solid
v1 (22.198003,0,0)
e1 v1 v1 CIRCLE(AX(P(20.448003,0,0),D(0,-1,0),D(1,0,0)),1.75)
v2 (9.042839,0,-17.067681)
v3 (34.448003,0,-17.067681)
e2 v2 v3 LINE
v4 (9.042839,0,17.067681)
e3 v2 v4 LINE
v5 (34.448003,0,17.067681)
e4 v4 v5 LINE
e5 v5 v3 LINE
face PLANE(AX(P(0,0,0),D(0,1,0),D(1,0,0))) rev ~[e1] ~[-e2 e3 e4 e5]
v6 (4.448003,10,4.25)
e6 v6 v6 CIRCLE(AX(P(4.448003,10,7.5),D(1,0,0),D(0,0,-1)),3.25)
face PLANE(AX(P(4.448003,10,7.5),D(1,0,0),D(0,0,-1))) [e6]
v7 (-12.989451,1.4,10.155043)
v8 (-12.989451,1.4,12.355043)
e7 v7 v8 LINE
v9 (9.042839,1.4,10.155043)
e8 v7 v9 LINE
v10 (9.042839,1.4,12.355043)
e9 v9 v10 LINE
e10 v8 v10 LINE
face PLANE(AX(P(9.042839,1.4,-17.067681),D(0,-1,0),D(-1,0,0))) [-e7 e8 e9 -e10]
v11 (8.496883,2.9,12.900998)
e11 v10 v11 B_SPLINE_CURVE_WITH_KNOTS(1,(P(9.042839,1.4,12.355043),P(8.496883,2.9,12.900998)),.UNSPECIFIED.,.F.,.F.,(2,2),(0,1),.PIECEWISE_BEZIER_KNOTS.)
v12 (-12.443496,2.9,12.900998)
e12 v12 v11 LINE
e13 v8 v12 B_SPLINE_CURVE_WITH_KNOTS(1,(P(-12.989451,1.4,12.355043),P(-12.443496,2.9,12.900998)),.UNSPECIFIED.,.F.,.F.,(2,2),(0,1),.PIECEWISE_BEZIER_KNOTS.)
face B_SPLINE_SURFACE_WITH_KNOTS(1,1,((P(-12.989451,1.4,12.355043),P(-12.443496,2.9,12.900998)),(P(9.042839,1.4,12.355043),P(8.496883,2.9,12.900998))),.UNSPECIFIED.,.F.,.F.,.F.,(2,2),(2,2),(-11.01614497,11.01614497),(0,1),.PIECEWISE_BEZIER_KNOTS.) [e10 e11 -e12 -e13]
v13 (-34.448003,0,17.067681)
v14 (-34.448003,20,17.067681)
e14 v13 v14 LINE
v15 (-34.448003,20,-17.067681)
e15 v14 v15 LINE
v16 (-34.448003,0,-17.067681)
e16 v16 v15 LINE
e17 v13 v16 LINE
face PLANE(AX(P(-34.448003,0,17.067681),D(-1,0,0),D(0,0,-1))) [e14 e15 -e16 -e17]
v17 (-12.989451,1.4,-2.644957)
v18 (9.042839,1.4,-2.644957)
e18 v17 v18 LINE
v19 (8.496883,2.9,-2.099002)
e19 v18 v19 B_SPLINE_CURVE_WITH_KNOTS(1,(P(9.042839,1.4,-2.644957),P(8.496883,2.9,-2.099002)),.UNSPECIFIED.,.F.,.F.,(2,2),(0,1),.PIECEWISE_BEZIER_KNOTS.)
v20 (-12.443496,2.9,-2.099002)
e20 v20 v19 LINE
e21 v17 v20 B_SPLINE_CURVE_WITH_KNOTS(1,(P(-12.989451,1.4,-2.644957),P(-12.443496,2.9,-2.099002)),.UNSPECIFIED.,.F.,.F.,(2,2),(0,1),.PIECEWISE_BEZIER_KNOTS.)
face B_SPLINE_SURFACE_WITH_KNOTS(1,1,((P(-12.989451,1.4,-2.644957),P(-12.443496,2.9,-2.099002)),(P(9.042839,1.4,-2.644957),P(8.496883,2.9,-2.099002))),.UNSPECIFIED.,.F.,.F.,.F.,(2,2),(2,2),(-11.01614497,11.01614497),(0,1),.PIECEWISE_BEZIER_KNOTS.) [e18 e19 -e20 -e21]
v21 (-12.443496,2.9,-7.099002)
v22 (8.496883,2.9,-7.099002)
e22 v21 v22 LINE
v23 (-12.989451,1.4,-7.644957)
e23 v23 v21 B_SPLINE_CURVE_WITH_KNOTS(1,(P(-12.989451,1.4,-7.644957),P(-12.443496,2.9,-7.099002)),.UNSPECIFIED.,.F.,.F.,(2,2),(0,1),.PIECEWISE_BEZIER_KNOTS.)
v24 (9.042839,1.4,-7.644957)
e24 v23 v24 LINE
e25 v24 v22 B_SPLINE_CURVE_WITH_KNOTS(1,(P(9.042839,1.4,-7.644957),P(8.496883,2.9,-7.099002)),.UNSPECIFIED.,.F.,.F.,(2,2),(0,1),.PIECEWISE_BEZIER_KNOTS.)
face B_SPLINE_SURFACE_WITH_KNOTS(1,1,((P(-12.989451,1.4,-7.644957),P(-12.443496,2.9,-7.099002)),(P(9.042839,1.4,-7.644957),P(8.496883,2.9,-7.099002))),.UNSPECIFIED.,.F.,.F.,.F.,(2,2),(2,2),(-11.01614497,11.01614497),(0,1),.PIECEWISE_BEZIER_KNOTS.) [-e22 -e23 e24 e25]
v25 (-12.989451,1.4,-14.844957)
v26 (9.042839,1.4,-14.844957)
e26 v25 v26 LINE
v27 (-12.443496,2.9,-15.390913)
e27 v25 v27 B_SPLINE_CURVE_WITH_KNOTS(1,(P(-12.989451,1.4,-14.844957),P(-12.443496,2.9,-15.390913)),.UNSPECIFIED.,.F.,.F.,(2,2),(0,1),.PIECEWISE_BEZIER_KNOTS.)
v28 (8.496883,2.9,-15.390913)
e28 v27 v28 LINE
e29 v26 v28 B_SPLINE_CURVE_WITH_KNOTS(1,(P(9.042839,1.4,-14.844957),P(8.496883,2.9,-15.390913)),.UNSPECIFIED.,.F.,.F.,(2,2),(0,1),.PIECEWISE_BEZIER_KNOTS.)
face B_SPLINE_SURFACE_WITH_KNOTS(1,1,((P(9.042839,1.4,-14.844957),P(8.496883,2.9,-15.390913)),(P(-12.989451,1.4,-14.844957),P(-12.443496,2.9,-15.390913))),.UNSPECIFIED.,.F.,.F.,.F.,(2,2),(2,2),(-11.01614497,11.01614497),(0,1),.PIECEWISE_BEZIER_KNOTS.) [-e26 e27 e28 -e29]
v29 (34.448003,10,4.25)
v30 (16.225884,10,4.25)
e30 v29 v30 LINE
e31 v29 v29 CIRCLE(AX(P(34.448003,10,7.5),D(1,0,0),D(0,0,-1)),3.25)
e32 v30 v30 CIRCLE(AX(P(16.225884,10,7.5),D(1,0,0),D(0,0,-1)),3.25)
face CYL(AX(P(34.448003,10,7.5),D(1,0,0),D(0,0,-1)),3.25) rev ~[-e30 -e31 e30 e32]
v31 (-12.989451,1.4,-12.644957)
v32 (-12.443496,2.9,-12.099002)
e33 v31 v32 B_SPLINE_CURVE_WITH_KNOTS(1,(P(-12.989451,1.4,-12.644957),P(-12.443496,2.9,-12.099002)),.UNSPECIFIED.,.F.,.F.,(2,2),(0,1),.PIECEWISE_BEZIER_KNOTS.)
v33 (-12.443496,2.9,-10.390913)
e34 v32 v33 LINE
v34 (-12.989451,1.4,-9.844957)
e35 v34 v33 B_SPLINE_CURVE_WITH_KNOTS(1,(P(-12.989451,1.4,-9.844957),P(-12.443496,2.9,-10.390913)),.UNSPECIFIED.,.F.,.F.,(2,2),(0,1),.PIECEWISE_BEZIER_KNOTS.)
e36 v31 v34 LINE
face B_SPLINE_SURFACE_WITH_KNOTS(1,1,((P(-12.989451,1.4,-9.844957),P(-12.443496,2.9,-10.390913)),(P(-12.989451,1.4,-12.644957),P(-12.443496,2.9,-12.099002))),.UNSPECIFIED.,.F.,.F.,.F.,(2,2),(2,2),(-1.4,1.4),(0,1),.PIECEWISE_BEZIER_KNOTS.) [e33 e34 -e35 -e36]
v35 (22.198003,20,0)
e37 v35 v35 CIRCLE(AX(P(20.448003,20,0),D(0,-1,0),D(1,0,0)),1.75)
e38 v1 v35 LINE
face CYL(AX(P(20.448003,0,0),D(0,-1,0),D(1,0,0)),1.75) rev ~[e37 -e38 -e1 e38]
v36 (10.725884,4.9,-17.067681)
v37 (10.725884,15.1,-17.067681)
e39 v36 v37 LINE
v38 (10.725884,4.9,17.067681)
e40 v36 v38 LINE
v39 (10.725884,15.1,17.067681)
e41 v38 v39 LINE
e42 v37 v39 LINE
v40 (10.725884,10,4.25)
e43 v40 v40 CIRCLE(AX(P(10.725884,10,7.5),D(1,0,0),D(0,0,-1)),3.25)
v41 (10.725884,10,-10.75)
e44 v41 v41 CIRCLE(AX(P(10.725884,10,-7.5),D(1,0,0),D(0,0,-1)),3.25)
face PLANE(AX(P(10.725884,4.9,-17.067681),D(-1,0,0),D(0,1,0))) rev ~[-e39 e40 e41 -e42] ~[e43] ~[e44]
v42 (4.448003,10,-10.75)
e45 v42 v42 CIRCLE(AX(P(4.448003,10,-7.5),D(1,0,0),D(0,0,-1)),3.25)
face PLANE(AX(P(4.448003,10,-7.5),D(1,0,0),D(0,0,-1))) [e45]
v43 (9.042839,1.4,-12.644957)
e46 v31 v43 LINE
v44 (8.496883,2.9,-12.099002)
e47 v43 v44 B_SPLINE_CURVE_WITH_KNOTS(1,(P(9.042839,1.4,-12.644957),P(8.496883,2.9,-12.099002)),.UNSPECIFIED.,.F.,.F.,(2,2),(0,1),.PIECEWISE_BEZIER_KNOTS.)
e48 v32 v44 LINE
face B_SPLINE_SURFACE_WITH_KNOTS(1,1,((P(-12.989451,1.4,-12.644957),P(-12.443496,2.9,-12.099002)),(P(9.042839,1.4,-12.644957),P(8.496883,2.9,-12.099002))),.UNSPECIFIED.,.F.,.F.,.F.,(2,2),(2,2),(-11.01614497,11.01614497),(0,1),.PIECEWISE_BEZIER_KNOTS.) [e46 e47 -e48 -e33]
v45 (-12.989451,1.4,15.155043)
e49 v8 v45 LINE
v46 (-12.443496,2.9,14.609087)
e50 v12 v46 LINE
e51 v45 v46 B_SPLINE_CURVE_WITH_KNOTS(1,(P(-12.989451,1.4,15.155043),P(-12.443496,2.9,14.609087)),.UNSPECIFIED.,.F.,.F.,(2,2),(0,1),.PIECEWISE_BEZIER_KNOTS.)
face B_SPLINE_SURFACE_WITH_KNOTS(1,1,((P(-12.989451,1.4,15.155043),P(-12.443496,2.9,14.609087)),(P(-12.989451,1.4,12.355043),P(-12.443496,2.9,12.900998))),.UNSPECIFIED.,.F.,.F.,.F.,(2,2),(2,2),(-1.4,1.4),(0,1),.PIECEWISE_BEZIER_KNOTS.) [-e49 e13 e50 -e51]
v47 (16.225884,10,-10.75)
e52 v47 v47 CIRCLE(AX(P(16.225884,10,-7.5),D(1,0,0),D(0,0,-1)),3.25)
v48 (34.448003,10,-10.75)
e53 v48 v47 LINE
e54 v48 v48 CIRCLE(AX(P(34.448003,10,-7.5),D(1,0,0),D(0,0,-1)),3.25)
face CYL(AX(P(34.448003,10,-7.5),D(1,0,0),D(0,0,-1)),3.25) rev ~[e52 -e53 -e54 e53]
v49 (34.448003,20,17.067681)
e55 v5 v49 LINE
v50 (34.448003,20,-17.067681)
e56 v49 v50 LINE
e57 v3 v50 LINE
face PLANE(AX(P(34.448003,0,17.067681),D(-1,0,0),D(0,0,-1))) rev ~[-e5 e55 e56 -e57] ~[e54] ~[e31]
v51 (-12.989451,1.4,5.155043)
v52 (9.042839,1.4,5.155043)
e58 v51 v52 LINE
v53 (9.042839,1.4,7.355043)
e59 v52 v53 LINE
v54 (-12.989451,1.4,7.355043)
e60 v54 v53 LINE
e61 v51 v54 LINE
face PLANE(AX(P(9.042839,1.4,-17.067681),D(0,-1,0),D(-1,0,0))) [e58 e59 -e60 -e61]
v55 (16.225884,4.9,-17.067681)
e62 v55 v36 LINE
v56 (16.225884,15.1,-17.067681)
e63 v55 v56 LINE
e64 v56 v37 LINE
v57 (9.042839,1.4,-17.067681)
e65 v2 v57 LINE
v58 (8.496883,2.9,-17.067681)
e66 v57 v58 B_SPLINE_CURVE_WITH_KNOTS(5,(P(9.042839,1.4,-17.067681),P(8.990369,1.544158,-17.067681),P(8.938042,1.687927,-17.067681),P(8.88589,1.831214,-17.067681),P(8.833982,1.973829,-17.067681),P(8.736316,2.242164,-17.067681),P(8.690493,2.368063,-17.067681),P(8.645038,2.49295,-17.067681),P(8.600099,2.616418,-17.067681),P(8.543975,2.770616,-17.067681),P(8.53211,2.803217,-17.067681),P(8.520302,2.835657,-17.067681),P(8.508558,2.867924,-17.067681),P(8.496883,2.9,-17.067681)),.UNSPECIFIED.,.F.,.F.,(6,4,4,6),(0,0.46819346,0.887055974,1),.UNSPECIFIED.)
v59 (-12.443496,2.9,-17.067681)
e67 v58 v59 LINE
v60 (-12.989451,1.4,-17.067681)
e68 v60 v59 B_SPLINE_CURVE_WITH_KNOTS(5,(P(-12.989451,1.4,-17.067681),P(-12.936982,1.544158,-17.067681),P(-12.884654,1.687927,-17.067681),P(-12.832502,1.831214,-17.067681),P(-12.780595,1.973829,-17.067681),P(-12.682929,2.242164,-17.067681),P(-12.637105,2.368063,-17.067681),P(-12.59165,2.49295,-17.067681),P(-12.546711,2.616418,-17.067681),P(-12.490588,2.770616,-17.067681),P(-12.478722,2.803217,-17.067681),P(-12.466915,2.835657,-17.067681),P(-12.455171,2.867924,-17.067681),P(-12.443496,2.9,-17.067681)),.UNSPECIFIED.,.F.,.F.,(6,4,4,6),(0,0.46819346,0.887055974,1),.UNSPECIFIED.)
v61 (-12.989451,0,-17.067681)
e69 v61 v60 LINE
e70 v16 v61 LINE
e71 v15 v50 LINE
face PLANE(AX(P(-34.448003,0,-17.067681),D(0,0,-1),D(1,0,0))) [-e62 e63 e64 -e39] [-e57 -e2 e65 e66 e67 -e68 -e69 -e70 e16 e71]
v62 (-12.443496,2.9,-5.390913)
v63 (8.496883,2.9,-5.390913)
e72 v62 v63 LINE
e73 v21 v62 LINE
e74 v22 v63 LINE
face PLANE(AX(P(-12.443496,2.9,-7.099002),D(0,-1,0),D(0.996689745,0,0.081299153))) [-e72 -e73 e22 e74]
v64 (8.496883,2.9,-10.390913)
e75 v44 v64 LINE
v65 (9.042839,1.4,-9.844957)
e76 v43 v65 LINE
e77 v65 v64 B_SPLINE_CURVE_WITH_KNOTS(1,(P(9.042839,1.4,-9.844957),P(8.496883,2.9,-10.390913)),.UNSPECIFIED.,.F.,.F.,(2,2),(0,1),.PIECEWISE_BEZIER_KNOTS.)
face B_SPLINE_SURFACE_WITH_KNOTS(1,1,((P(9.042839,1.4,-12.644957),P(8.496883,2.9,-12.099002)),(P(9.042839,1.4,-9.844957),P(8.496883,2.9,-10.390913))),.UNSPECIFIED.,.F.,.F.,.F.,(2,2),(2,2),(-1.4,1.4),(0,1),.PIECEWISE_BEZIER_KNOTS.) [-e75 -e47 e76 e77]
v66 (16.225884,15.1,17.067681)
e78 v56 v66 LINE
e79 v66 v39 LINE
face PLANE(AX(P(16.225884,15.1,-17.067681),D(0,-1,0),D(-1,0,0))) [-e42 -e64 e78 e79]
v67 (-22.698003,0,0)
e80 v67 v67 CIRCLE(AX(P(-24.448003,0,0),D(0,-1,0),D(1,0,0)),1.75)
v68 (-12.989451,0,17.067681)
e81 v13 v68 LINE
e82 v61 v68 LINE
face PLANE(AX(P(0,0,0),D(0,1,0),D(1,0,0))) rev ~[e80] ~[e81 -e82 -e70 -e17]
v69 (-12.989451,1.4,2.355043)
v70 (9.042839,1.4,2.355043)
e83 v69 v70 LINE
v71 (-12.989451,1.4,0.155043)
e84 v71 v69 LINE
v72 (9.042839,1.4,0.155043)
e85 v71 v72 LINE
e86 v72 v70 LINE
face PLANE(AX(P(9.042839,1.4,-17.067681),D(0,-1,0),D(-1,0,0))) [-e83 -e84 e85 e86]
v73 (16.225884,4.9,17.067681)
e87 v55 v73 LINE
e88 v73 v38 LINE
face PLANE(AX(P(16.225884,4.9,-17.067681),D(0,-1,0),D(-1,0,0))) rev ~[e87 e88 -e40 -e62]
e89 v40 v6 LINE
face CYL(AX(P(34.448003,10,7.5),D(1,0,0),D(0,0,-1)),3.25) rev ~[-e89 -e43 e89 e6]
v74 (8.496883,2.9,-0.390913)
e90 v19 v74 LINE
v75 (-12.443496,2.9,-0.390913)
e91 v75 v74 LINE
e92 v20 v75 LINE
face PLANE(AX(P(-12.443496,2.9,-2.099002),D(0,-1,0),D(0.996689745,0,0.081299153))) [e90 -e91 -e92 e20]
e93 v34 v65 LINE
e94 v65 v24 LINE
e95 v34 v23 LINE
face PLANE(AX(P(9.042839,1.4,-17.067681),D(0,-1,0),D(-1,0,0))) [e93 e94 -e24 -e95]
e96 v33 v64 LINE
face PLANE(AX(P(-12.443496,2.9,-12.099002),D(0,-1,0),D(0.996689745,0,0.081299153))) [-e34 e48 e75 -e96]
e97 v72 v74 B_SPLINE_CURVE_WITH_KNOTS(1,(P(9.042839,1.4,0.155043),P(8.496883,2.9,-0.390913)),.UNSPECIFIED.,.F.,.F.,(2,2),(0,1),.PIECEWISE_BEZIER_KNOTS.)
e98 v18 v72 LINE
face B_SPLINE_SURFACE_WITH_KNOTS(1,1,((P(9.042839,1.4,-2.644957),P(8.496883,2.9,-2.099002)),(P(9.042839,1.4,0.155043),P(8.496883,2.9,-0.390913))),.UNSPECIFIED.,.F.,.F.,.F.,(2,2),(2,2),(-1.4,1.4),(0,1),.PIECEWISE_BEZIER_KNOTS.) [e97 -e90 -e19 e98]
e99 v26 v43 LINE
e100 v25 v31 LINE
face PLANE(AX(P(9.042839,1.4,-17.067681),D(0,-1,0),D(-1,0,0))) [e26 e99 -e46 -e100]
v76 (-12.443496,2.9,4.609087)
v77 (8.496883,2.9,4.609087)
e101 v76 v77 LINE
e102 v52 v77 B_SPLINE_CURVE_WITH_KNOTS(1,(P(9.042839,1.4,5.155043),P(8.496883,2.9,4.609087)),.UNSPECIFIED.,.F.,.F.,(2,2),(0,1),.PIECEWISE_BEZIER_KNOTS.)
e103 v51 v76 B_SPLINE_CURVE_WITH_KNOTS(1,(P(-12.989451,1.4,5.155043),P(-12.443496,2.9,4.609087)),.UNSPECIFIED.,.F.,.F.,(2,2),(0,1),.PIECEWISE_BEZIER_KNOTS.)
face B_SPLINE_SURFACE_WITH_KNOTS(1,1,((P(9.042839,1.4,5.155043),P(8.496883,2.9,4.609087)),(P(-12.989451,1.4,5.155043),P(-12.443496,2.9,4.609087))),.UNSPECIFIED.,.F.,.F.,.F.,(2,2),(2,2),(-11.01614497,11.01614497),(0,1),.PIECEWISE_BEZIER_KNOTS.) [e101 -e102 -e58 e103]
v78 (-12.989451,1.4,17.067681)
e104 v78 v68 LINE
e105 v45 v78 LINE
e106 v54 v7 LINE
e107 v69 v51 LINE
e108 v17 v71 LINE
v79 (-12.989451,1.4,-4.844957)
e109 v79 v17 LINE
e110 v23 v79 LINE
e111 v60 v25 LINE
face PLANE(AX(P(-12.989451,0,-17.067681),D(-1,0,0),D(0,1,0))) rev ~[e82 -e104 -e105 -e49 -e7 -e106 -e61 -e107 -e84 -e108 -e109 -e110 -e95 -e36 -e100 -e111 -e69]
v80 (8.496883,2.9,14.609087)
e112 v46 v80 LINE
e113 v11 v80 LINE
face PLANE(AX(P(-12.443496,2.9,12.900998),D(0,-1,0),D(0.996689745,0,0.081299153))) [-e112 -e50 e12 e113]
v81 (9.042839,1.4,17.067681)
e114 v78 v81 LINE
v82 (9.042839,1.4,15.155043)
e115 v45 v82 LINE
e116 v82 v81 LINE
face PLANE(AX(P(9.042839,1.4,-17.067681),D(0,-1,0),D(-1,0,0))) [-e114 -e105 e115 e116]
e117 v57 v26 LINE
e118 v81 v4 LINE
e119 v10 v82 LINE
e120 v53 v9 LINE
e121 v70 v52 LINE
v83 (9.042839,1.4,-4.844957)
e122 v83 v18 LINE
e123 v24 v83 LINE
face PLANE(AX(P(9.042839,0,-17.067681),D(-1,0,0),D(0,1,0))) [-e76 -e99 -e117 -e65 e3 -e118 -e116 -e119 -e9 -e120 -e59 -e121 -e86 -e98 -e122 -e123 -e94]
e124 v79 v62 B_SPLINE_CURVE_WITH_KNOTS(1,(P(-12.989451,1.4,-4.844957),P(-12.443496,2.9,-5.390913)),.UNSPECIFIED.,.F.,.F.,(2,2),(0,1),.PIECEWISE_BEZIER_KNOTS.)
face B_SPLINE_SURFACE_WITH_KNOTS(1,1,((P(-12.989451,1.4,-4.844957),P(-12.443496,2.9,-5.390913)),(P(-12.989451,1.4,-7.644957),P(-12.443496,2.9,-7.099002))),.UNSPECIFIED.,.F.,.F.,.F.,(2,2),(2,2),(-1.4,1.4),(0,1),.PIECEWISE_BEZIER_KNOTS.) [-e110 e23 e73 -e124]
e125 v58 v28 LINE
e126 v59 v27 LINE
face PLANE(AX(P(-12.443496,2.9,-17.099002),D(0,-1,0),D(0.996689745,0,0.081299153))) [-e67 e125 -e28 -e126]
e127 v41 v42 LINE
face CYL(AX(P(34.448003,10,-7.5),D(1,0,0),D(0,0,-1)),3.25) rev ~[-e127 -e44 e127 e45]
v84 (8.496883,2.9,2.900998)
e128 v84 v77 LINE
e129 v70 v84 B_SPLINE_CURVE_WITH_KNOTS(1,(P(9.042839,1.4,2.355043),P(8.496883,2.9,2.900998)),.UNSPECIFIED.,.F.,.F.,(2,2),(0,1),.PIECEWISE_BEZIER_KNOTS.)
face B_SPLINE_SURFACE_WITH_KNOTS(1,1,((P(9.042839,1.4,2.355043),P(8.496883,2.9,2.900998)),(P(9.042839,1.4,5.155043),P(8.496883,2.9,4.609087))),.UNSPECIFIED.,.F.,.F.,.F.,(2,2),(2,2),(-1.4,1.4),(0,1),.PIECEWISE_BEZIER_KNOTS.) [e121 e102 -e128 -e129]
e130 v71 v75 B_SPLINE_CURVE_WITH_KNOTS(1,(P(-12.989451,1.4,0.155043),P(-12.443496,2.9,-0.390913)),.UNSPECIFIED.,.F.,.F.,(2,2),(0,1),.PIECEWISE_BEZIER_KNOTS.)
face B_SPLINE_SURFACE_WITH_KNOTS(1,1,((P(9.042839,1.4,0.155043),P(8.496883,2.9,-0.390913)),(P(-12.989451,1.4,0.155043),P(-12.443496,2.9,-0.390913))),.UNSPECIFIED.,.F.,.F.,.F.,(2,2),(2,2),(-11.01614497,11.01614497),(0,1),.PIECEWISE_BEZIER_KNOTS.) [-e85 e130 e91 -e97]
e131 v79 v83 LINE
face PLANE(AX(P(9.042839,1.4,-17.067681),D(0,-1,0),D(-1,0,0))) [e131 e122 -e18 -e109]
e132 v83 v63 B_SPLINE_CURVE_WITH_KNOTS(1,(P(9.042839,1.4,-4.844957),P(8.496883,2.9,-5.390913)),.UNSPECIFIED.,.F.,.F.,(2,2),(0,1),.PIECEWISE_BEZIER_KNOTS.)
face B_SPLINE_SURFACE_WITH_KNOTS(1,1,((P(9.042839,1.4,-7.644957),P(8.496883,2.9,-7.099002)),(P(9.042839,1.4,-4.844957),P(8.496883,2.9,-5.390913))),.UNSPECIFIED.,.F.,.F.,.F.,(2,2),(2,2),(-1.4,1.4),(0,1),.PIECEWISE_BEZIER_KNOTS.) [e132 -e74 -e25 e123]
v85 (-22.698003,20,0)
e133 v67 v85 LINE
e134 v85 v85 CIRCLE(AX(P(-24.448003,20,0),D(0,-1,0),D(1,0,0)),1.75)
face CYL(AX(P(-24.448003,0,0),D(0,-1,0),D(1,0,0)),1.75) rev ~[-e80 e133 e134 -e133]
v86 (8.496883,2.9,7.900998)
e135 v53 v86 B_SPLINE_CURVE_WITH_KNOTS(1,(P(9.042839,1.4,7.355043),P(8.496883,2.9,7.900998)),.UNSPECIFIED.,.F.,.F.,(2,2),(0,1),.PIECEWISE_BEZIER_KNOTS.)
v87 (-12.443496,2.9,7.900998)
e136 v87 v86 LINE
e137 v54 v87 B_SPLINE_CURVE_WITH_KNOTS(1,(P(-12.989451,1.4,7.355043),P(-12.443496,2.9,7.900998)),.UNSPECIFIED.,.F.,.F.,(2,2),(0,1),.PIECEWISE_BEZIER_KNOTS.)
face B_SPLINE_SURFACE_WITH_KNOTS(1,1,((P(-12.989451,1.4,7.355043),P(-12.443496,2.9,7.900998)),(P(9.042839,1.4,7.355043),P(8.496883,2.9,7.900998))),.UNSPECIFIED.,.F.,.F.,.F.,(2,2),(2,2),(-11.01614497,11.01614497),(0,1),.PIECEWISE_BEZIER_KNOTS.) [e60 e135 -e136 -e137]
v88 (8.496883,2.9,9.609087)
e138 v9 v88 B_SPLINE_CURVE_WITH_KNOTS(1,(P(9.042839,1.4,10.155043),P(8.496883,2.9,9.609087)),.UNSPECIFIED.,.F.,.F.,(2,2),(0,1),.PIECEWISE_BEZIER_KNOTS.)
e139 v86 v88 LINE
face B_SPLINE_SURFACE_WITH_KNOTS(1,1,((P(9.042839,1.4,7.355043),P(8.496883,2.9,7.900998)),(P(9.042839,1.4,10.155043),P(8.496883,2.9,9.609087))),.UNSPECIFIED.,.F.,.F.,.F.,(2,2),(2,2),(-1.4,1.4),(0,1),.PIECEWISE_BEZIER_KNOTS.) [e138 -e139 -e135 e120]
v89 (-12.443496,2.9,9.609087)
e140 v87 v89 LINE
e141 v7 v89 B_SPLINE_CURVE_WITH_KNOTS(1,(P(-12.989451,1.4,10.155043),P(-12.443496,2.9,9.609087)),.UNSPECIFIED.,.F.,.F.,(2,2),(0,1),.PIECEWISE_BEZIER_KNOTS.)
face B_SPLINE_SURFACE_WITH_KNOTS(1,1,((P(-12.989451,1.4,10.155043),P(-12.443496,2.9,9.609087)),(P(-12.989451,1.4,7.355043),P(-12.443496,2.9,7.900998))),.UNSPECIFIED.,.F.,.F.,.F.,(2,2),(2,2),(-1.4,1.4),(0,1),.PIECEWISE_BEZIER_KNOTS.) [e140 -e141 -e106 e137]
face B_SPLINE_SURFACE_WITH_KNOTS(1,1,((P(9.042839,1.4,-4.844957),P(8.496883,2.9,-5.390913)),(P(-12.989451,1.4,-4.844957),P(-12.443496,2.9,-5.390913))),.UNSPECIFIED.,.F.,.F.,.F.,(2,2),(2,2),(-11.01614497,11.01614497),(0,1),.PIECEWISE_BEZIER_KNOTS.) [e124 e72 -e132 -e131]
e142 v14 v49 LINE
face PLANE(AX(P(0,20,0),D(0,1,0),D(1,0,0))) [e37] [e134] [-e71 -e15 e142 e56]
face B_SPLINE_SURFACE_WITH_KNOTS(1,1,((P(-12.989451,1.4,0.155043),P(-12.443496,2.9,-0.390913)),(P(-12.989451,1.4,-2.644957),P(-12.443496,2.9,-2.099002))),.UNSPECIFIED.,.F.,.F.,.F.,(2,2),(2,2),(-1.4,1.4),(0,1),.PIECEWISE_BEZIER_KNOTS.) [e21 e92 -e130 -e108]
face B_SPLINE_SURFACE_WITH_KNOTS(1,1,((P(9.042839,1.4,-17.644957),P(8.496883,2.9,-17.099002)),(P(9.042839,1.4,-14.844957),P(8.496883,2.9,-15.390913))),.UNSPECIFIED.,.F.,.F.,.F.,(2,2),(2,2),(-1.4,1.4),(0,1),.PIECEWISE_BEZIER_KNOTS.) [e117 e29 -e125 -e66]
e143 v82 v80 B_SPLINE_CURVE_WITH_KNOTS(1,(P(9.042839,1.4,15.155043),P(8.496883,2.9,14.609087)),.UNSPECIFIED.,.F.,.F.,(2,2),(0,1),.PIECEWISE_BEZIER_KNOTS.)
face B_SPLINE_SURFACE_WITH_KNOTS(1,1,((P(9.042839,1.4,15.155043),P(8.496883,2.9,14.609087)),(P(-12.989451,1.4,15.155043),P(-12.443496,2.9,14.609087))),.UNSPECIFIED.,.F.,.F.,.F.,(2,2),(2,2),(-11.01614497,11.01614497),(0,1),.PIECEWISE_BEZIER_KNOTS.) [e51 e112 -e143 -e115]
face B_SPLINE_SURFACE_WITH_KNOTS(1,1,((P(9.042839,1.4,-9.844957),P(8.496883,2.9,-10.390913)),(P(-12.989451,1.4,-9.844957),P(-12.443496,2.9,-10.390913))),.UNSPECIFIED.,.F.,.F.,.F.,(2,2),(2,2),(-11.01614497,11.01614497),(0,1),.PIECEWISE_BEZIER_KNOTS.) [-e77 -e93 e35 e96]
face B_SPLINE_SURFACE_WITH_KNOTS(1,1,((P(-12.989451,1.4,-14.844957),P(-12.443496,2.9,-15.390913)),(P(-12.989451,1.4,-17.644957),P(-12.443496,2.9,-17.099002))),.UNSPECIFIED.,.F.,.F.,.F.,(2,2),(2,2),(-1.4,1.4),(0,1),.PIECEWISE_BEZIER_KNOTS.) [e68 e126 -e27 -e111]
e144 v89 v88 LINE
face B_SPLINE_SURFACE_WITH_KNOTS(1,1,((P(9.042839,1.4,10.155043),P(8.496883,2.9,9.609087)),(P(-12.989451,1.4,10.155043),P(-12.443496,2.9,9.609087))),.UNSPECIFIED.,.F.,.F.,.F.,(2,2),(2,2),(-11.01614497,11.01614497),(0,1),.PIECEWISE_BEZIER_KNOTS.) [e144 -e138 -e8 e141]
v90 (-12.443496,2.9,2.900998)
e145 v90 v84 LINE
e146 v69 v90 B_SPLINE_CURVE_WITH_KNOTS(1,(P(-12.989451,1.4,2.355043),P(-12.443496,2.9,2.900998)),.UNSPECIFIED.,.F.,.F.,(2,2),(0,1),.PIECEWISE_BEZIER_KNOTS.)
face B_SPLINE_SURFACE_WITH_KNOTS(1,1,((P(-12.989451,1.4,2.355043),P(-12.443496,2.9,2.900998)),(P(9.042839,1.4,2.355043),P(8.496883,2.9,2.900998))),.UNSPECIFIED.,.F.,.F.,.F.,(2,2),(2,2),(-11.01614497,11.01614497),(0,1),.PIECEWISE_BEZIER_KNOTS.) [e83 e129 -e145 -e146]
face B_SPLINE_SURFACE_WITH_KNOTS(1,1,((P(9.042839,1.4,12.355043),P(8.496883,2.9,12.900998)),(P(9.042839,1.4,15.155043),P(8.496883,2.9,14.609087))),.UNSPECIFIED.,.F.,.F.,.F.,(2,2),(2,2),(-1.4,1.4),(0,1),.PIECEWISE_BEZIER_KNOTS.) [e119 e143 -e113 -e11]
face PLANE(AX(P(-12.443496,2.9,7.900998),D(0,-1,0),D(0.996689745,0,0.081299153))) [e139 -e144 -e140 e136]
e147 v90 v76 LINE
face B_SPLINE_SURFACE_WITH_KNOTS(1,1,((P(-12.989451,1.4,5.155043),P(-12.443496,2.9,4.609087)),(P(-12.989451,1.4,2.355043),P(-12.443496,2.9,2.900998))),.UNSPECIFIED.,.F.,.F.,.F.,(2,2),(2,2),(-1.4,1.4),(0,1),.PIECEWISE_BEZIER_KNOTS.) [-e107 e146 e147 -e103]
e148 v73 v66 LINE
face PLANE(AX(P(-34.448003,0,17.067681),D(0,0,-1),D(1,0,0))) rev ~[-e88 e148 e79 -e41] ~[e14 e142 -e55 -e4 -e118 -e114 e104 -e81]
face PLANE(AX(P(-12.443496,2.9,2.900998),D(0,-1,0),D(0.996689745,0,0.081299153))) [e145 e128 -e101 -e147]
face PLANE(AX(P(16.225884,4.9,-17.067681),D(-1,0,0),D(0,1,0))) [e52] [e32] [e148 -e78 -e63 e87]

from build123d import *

# Parameters (mm, degrees)
SKETCH1_W           = 68.896006058
SKETCH1_H           = 34.135361424
BOSS_EXTRUDE1_DEPTH = 20
CUT_EXTRUDE1_REACH  = 36.135
SKETCH2_W           = 22.032289941
SKETCH2_H           = 1.4
SKETCH7_R           = 3.25
CUT_EXTRUDE4_DEPTH  = 30
CUT_EXTRUDE5_REACH  = 22
SKETCH8_R           = 1.75
SKETCH9_W           = 5.5
SKETCH9_H           = 10.2
CUT_EXTRUDE6_DEPTH  = 35.135361425
SKETCH10_W          = 22.032289941
SKETCH10_H          = 2.8
CUT_EXTRUDE7_DEPTH  = 1.5
CUT_EXTRUDE7_TAPER  = 20
LPATTERN1_COUNT     = 7
LPATTERN1_PITCH     = 5


with BuildPart() as part:
    # Sketch1 → Boss-Extrude1 (new body)
    with BuildSketch(Plane(origin=(0, 0, 0), x_dir=(1, 0, 0), z_dir=(0, 1, 0))):
        Rectangle(SKETCH1_W, SKETCH1_H)
    extrude(amount=BOSS_EXTRUDE1_DEPTH)

    # Sketch2 → Cut-Extrude1 (cut, up to next)
    with BuildSketch(Plane(origin=(0, 0, -17.067680712), x_dir=(-1, 0, 0), z_dir=(0, 0, -1)), mode=Mode.PRIVATE) as cut_extrude1_sk1:
        with Locations((1.973306179, 0.7)):
            Rectangle(SKETCH2_W, SKETCH2_H)
    cut_extrude1_tool1 = extrude(cut_extrude1_sk1.sketch, amount=-CUT_EXTRUDE1_REACH, mode=Mode.PRIVATE) & part.part
    add(cut_extrude1_tool1.solids().sort_by_distance((-1.973306, 0.7, -17.067681))[0], mode=Mode.SUBTRACT)

    # Sketch7 → Cut-Extrude4 (cut)
    with BuildSketch(Plane(origin=(34.448003029, 0, 0), x_dir=(0, 0, -1), z_dir=(1, 0, 0))):
        with Locations((-7.5, 10)):
            Circle(SKETCH7_R)
        with Locations((7.5, 10)):
            Circle(SKETCH7_R)
    extrude(amount=-CUT_EXTRUDE4_DEPTH, mode=Mode.SUBTRACT)

    # Sketch8 → Cut-Extrude5 (cut, up to next)
    with BuildSketch(Plane.XZ, mode=Mode.PRIVATE) as cut_extrude5_sk1:
        with Locations((-24.448003029, 0)):
            Circle(SKETCH8_R)
    cut_extrude5_tool1 = extrude(cut_extrude5_sk1.sketch, amount=-CUT_EXTRUDE5_REACH, mode=Mode.PRIVATE) & part.part
    add(cut_extrude5_tool1.solids().sort_by_distance((-24.448003, 0, 0))[0], mode=Mode.SUBTRACT)
    # Sketch8 → Cut-Extrude5 (cut, up to next)
    with BuildSketch(Plane.XZ, mode=Mode.PRIVATE) as cut_extrude5_sk2:
        with Locations((20.448003029, 0)):
            Circle(SKETCH8_R)
    cut_extrude5_tool2 = extrude(cut_extrude5_sk2.sketch, amount=-CUT_EXTRUDE5_REACH, mode=Mode.PRIVATE) & part.part
    add(cut_extrude5_tool2.solids().sort_by_distance((20.448003, 0, 0))[0], mode=Mode.SUBTRACT)

    # Sketch9 → Cut-Extrude6 (cut, through all)
    with BuildSketch(Plane(origin=(0, 0, -17.067680712), x_dir=(-1, 0, 0), z_dir=(0, 0, -1))):
        with Locations((-13.475884112, 10)):
            Rectangle(SKETCH9_W, SKETCH9_H)
    extrude(amount=-CUT_EXTRUDE6_DEPTH, mode=Mode.SUBTRACT)

    # Sketch10 → Cut-Extrude7 (cut)
    with BuildSketch(Plane.XZ.offset(-1.4)):
        with Locations((-1.973306179, 13.755042689)):
            Rectangle(SKETCH10_W, SKETCH10_H)
    cut_extrude7 = extrude(amount=-CUT_EXTRUDE7_DEPTH, taper=CUT_EXTRUDE7_TAPER, mode=Mode.SUBTRACT)

    # LPattern1: Cut-Extrude7 ×7
    with Locations(*[(0, 0, -i * LPATTERN1_PITCH) for i in range(1, LPATTERN1_COUNT)]):
        add(cut_extrude7, mode=Mode.SUBTRACT)


solid = part.part
